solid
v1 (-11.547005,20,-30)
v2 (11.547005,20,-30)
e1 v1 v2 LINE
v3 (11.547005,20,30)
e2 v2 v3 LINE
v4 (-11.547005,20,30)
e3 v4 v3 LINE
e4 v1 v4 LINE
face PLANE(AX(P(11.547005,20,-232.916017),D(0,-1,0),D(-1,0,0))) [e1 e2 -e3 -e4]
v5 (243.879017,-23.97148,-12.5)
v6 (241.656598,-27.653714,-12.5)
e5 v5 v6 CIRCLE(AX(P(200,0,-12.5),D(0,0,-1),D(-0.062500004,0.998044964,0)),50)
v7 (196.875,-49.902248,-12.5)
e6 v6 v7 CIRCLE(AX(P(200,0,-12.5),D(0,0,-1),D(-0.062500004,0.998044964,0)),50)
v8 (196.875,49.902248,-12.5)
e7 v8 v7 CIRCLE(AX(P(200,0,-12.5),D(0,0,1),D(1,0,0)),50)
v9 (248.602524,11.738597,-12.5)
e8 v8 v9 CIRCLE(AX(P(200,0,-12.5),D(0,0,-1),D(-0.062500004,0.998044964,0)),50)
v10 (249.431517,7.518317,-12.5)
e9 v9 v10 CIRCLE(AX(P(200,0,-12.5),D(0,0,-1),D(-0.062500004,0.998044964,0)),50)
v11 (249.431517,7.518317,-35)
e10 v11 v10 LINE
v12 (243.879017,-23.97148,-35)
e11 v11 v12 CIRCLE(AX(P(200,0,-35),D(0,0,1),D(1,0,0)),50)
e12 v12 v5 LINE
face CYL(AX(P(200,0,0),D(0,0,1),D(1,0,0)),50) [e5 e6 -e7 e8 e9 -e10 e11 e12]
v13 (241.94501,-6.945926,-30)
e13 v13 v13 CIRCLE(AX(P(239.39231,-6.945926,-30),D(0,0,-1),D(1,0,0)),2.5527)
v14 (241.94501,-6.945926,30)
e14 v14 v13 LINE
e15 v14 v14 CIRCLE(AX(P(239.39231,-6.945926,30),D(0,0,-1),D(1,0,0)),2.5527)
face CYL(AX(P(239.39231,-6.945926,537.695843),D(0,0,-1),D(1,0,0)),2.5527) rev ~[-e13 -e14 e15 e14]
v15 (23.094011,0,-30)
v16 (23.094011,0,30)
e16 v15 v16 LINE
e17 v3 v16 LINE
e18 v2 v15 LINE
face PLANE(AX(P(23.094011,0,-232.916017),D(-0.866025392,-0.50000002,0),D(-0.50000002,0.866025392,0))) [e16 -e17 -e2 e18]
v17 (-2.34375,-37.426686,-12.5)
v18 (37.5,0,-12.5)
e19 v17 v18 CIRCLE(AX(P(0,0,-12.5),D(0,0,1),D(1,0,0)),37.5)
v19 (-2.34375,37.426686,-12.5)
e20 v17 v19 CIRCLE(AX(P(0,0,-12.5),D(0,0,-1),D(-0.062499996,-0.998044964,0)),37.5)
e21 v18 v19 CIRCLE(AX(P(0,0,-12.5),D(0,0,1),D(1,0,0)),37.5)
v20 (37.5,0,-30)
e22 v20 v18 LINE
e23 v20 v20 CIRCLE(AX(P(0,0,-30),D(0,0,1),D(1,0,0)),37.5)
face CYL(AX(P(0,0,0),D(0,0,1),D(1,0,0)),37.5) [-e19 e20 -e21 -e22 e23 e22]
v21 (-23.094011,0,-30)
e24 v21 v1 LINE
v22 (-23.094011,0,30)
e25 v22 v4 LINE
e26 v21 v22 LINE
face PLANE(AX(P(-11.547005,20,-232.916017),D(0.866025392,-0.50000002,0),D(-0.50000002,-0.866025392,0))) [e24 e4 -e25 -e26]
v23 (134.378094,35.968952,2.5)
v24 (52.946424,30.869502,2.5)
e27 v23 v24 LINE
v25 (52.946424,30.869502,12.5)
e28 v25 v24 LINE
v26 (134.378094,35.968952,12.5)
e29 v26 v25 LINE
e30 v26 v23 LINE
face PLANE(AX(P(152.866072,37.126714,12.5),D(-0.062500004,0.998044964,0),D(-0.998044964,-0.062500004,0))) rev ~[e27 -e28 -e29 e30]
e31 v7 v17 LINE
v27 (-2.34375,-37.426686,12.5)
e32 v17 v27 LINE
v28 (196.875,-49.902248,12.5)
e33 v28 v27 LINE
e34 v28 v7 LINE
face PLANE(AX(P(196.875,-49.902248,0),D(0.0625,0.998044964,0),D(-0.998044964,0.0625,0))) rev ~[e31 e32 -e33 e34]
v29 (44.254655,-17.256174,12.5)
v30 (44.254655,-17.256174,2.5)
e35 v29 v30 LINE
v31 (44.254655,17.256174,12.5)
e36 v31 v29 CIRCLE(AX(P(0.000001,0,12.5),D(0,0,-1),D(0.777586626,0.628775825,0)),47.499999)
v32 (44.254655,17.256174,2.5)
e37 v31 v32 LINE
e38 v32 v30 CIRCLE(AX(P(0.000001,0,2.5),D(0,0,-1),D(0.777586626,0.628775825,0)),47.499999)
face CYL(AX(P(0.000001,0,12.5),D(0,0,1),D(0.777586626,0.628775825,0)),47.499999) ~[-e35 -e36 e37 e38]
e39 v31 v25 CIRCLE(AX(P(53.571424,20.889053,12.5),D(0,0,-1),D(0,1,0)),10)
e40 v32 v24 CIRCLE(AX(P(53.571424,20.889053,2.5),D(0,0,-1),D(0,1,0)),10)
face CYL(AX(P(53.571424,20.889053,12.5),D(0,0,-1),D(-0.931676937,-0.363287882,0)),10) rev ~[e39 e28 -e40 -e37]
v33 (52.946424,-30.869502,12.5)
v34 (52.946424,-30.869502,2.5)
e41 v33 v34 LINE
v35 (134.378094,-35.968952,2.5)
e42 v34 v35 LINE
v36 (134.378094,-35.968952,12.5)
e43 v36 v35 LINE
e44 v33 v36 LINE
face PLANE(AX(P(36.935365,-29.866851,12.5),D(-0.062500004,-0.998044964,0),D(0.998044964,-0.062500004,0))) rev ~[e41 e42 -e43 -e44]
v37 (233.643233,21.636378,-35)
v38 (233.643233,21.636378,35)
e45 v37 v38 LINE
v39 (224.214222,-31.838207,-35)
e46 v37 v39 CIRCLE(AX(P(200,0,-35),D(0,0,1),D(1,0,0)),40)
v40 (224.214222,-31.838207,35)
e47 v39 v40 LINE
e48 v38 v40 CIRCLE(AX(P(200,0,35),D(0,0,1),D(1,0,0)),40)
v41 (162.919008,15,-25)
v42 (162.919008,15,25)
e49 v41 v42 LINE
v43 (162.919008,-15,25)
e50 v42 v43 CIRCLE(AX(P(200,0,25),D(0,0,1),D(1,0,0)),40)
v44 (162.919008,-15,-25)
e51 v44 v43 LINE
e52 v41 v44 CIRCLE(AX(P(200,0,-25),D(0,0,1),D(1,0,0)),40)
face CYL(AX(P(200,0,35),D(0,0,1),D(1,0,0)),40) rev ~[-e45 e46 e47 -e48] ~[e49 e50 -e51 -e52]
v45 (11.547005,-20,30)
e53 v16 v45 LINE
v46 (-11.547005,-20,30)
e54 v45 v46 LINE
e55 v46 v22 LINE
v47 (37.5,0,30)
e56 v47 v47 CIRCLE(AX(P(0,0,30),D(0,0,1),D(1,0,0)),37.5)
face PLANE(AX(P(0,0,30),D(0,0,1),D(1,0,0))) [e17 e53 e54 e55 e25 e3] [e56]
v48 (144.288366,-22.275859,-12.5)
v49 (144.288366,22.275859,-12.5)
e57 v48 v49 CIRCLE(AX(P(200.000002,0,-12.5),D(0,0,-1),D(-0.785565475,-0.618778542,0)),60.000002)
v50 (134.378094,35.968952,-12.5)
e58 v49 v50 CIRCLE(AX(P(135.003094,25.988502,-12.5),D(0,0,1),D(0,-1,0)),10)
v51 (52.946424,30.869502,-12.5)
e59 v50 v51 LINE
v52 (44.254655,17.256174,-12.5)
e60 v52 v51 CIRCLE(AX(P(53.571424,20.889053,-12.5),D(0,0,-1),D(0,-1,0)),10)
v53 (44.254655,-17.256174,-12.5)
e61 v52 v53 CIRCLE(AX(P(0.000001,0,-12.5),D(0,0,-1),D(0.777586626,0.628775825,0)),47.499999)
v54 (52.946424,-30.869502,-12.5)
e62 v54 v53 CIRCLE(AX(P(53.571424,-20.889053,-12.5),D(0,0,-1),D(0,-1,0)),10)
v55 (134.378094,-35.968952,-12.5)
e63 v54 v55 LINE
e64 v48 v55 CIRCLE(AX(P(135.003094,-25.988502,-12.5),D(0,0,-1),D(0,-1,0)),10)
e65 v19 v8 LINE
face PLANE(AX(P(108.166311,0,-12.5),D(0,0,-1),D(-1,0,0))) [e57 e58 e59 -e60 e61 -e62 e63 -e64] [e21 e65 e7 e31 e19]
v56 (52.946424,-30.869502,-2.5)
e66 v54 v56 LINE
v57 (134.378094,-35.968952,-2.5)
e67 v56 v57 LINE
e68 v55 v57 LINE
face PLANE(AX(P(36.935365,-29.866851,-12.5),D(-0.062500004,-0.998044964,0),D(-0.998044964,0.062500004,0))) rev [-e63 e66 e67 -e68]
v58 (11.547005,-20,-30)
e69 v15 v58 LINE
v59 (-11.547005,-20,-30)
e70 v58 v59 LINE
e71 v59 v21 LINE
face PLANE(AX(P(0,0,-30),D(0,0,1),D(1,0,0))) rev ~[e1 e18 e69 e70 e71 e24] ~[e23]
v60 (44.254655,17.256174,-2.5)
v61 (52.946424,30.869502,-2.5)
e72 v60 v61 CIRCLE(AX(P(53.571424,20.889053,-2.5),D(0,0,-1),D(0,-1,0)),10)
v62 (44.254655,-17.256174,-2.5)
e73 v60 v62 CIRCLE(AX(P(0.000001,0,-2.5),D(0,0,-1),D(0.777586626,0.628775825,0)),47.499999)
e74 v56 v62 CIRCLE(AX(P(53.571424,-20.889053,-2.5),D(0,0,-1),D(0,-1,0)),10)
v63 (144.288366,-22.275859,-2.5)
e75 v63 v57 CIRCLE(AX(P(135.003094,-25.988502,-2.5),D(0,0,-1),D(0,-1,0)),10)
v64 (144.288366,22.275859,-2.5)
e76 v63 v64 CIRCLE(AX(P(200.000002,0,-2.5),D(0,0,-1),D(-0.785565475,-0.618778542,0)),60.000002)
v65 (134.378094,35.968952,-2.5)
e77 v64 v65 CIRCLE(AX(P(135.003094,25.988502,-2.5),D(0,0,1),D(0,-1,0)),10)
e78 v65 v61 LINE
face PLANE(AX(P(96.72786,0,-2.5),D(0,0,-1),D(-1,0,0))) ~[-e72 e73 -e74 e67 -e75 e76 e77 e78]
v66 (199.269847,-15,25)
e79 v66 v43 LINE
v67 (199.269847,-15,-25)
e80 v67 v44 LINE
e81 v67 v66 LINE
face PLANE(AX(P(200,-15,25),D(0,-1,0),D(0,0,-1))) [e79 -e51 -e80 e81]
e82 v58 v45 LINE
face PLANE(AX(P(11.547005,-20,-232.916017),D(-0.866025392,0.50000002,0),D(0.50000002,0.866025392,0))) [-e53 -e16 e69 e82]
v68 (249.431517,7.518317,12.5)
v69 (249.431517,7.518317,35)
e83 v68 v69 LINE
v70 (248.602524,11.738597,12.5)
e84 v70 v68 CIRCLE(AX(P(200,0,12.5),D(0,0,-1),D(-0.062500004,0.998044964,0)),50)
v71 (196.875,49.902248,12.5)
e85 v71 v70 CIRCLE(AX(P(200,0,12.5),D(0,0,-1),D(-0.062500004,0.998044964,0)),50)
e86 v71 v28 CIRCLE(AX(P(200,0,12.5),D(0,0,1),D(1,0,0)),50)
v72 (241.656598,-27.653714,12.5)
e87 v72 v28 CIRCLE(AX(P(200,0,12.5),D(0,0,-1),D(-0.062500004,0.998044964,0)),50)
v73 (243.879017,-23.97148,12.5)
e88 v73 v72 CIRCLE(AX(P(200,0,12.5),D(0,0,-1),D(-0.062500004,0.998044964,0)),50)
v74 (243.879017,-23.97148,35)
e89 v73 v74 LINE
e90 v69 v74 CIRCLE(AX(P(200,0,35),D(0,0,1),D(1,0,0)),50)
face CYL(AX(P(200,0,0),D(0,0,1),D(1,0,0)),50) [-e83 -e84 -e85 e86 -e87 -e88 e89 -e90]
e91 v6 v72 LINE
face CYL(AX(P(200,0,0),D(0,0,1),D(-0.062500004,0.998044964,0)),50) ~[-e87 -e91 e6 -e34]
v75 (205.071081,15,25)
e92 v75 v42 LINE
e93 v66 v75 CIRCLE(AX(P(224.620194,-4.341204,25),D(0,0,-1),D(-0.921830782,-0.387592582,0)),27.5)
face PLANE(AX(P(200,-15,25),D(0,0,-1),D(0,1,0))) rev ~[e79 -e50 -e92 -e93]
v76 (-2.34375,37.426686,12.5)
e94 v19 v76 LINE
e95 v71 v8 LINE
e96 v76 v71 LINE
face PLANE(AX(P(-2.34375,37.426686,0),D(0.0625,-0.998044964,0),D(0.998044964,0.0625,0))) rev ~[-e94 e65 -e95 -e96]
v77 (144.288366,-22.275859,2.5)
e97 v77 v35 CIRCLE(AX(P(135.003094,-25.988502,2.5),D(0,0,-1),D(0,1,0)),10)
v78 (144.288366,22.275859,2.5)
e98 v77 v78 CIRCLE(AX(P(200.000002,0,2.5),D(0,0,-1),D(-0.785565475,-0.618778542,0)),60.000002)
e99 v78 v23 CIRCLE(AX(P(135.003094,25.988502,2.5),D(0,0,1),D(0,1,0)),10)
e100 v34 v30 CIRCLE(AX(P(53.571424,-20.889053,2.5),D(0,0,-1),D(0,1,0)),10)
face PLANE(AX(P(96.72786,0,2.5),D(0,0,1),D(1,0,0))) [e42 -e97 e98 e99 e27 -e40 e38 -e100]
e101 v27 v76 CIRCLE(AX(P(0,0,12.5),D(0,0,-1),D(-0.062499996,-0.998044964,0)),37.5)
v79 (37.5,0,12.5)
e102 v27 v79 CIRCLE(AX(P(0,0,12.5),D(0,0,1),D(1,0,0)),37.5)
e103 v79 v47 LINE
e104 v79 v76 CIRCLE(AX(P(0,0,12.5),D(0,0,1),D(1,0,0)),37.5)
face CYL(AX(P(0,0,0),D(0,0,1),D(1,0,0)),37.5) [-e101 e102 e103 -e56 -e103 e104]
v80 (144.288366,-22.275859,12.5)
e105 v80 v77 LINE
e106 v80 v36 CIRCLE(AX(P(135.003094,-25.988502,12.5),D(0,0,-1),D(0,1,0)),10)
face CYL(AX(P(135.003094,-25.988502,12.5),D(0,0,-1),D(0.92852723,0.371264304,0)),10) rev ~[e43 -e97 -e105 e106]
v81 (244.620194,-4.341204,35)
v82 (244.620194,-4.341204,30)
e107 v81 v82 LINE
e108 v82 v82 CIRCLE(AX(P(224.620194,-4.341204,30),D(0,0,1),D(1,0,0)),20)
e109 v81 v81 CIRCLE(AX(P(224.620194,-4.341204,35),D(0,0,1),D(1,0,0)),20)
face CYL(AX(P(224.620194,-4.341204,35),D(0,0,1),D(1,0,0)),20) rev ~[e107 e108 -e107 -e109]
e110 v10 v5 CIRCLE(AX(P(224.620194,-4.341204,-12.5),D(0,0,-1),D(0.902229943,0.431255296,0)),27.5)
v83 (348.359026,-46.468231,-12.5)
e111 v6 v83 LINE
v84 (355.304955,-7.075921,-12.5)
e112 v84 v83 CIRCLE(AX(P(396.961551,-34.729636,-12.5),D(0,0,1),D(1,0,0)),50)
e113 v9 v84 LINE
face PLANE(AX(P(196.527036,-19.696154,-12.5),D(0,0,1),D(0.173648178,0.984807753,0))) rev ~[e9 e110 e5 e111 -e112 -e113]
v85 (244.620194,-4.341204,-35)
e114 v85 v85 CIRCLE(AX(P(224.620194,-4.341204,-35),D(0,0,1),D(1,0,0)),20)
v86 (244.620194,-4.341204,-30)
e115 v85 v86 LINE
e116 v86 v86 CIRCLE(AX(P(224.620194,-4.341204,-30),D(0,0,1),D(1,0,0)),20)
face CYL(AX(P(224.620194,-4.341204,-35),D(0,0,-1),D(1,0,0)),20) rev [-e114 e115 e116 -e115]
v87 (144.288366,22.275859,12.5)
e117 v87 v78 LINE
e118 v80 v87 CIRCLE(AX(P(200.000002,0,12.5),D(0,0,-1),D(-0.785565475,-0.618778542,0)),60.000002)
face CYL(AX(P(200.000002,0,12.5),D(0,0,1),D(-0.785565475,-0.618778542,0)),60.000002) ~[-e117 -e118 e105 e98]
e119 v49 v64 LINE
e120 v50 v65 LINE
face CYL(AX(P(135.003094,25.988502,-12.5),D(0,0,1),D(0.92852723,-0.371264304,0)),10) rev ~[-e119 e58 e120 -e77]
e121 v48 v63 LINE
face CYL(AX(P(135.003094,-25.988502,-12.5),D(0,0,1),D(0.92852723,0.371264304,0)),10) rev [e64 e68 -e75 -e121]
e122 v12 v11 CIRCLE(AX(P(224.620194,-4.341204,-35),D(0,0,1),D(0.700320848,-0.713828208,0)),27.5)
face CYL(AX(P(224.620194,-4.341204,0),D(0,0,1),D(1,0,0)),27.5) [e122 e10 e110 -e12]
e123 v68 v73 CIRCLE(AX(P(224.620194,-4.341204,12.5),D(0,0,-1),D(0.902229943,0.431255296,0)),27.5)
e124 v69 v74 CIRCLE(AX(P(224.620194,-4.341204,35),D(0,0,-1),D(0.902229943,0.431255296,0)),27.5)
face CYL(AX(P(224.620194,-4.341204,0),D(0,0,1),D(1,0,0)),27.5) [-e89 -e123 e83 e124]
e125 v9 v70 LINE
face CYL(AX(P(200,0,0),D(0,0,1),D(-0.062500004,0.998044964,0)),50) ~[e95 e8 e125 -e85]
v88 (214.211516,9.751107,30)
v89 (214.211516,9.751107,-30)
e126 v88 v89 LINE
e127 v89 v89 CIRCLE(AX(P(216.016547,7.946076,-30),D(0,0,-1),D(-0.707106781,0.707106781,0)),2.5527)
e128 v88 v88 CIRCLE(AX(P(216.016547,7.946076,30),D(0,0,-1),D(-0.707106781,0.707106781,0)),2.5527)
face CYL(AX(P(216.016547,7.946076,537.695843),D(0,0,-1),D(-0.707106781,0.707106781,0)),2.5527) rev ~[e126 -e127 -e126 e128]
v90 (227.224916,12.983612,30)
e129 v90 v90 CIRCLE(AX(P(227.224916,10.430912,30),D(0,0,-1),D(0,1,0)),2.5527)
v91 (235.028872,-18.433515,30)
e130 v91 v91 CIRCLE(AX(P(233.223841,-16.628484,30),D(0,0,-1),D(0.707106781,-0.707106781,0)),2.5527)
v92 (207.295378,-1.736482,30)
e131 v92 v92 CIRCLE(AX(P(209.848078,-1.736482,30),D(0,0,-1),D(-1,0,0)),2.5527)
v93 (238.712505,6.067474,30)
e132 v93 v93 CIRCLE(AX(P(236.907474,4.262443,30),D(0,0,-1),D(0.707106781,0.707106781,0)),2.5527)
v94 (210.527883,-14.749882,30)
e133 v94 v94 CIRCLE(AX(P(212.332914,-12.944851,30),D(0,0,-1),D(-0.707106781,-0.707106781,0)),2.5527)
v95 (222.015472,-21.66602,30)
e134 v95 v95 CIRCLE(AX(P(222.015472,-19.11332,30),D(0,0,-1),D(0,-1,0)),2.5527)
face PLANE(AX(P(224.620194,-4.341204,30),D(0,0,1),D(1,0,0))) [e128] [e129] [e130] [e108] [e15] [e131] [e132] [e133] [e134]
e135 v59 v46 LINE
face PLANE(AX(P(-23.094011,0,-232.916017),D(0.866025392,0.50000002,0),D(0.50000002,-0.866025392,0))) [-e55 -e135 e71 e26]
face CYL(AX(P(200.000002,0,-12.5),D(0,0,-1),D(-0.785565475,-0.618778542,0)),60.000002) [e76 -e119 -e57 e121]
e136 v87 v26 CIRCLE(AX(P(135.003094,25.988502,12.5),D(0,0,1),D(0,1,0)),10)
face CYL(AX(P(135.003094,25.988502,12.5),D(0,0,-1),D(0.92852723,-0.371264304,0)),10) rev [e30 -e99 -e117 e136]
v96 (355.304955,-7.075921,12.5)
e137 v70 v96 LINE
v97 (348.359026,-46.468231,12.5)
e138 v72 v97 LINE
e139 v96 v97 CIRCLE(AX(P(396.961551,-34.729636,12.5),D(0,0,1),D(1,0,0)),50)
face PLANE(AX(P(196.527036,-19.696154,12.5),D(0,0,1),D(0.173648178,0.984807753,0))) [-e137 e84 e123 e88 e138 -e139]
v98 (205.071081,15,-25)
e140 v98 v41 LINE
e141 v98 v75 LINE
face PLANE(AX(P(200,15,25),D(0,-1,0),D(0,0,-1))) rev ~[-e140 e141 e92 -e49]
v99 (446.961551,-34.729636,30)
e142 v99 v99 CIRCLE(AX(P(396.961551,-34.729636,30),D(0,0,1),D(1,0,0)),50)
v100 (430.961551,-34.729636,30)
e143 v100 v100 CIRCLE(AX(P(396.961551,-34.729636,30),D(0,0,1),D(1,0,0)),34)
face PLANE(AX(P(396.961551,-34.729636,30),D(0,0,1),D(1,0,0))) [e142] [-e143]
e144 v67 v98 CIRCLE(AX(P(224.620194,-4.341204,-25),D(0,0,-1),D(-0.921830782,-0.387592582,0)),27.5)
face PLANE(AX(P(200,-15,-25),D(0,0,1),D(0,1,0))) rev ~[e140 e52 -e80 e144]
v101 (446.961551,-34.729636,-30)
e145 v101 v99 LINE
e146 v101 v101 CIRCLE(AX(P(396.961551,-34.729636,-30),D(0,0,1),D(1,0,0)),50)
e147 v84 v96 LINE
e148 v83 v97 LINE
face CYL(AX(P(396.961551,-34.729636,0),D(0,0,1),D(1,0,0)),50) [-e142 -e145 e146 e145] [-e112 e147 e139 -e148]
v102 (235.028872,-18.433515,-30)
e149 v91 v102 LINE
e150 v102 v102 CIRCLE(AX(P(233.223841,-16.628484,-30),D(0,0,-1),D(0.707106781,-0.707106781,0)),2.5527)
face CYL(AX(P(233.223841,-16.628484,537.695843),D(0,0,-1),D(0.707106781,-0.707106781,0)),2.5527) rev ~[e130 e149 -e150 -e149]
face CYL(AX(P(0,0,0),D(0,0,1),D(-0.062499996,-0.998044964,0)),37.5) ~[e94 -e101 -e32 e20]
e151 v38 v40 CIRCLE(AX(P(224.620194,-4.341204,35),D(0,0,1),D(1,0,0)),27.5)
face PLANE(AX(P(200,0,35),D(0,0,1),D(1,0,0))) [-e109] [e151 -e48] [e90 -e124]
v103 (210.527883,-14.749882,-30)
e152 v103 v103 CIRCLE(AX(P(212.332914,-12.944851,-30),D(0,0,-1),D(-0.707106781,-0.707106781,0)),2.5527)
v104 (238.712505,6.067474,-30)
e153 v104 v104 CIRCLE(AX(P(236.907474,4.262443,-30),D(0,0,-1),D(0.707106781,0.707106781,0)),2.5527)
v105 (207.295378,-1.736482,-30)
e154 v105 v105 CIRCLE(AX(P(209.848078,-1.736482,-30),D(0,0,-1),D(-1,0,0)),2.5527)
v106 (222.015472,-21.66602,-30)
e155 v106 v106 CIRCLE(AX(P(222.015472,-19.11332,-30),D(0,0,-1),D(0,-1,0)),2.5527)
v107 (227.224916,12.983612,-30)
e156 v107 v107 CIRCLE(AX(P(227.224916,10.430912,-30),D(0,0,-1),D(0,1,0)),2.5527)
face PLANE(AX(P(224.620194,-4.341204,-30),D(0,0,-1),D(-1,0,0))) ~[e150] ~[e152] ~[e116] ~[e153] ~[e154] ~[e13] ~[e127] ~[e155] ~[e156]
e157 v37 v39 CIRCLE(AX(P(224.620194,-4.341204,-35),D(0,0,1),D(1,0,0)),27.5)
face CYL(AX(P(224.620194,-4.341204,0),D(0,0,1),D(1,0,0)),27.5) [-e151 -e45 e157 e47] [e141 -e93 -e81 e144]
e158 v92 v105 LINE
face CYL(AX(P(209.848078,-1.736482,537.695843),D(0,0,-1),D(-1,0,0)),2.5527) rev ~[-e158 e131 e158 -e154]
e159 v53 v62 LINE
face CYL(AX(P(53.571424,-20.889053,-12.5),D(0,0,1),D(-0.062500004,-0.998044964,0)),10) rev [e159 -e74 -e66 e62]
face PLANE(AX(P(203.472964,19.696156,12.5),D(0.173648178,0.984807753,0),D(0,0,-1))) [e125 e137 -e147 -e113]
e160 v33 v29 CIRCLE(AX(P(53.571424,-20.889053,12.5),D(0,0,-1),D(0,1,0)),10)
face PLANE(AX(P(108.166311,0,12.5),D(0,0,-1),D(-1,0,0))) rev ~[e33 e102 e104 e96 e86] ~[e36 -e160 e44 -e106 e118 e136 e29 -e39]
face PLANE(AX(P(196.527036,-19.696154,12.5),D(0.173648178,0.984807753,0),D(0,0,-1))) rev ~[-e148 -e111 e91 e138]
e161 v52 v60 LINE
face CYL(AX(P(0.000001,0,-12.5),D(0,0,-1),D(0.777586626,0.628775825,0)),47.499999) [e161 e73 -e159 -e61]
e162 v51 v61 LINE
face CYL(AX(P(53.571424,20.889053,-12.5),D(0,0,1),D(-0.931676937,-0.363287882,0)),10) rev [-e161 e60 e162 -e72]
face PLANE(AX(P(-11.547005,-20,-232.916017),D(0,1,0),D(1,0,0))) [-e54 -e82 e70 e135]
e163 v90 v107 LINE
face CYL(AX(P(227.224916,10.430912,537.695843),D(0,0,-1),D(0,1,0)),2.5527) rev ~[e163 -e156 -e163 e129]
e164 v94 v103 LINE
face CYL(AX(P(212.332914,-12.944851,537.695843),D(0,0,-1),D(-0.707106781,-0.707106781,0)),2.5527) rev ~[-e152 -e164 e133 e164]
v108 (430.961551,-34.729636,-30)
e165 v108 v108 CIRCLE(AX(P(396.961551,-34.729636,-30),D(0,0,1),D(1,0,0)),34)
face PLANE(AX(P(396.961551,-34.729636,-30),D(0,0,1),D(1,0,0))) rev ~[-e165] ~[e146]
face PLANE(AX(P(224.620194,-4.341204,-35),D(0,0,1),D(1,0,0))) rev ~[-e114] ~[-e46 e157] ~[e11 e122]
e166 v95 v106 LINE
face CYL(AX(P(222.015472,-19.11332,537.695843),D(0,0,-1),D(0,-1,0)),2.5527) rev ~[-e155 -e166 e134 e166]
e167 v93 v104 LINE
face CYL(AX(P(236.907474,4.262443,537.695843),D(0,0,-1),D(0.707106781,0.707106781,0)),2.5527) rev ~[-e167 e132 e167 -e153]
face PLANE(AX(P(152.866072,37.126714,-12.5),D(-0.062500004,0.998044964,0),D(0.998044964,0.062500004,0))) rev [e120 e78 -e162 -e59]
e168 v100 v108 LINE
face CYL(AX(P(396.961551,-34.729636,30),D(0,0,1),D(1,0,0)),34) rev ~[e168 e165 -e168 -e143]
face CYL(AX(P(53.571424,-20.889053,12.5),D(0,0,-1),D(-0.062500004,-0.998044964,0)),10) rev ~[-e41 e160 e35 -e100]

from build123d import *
from build123d.topology import SkipClean

# Parameters (mm, degrees)
LEFT_ARM_DEPTH                = 12.5
SKETCH2_R                     = 37.5
LEFT_BOSS_DEPTH               = 30
LEFT_HEX_DEPTH                = 262.916017
LEFT_HEX_DEPTH_BACK           = 262.916017
SKETCH3_R                     = 50
CENTRE_BOSS_DEPTH             = 35
SKETCH5_W                     = 25
SKETCH5_H                     = 40
RIGHT_ARM_DEPTH               = 200
SKETCH7_R                     = 50
RIGHT_BOSS_DEPTH              = 30
SKETCH8_R                     = 34
RIGHT_BOSS_HOLE_DEPTH         = 460.541879
SKETCH9_R                     = 40
CENTRE_HOLE_DEPTH             = 461.27572
SKETCH10_R                    = 27.5
CENTRE_BLOB_DEPTH             = 35
CENTRE_BEAM_REACH             = 265.428
SKETCH11_W                    = 50
SKETCH11_H                    = 30
CENTRE_BEAM_DIRECTION_2_REACH = 265.428
SKETCH12_R                    = 20
CUT_EXTRUDE4_DEPTH            = 5
F_1_4_20_TAPPED_HOLE1_D       = 5.1054
CIRPATTERN1_COUNT             = 8
CUT_OUT_DEPTH                 = 10
FILLET1_R                     = 10
FILLET1_OF_MIRROR2_R          = 10


with BuildPart() as part:
    # Sketch1 → LEFT_ARM (new, symmetric)
    with BuildSketch(Plane.XY):
        with BuildLine():
            Line((-2.34375, 37.426686), (196.875, 49.902248))
            ThreePointArc((196.875, 49.902248), (250, 0), (196.875, -49.902248))
            Line((196.875, -49.902248), (-2.34375, -37.426686))
            ThreePointArc((-2.34375, -37.426686), (-37.5, 0), (-2.34375, 37.426686))
        make_face()
    extrude(amount=LEFT_ARM_DEPTH, both=True)

    # Sketch2 → LEFT_Boss (add, symmetric)
    with SkipClean():  # the faces are left unmerged after this step: merging them gives an invalid solid
        with BuildSketch(Plane.XY):
            Circle(SKETCH2_R)
        extrude(amount=LEFT_BOSS_DEPTH, both=True)

    # Sketch4 → LEFT_Hex (cut, two sides: drawn at the far end of the back side and taken through both)
    with SkipClean():  # the faces are left unmerged after this step: merging them gives an invalid solid
        with BuildSketch(Plane.XY.offset(30).offset(-LEFT_HEX_DEPTH_BACK)):
            Polygon((23.094011, 0), (11.547005, 20), (-11.547005, 20), (-23.094011, 0), (-11.547005, -20), (11.547005, -20), align=None)
        extrude(amount=LEFT_HEX_DEPTH + LEFT_HEX_DEPTH_BACK, mode=Mode.SUBTRACT)

    # Sketch3 → CENTRE_Boss (add, symmetric)
    with SkipClean():  # the faces are left unmerged after this step: merging them gives an invalid solid
        with BuildSketch(Plane.XY):
            with Locations((200, 0)):
                Circle(SKETCH3_R)
        extrude(amount=CENTRE_BOSS_DEPTH, both=True)

    # Sketch5 → RIGHT_ARM (add)
    with SkipClean():  # the faces are left unmerged after this step: merging them gives an invalid solid
        with BuildSketch(Plane(origin=(193.969262, -34.202014, 0), x_dir=(0, 0, -1), z_dir=(0.984807753012208, -0.17364817766693072, 0))):
            with Locations((0, 34.729636)):
                Rectangle(SKETCH5_W, SKETCH5_H)
        extrude(amount=RIGHT_ARM_DEPTH)

    # Sketch7 → RIGHT_Boss (add, symmetric)
    with SkipClean():  # the faces are left unmerged after this step: merging them gives an invalid solid
        with BuildSketch(Plane.XY):
            with Locations((396.961551, -34.729636)):
                Circle(SKETCH7_R)
        extrude(amount=RIGHT_BOSS_DEPTH, both=True)

    # Sketch8 → RIGHT_Boss_Hole (cut, through all)
    with SkipClean():  # the faces are left unmerged after this step: merging them gives an invalid solid
        with BuildSketch(Plane.XY.offset(30)):
            with Locations((396.961551, -34.729636)):
                Circle(SKETCH8_R)
        extrude(amount=-RIGHT_BOSS_HOLE_DEPTH, mode=Mode.SUBTRACT)

    # Sketch9 → CENTRE_Hole (cut, through all)
    with SkipClean():  # the faces are left unmerged after this step: merging them gives an invalid solid
        with BuildSketch(Plane.XY.offset(35)):
            with Locations((200, 0)):
                Circle(SKETCH9_R)
        extrude(amount=-CENTRE_HOLE_DEPTH, mode=Mode.SUBTRACT)

    # Sketch10 → CENTRE_Blob (add, symmetric)
    with SkipClean():  # the faces are left unmerged after this step: merging them gives an invalid solid
        with BuildSketch(Plane.XY):
            with Locations((224.620194, -4.341204)):
                Circle(SKETCH10_R)
        extrude(amount=CENTRE_BLOB_DEPTH, both=True)

    # Sketch11 → CENTRE_Beam (add, up to next)
    with BuildSketch(Plane(origin=(200, 0, 0), x_dir=(0, 0, -1), z_dir=(1, 0, 0)), mode=Mode.PRIVATE) as centre_beam_sk1:
        Rectangle(SKETCH11_W, SKETCH11_H)
    centre_beam_tool1 = extrude(centre_beam_sk1.sketch, amount=CENTRE_BEAM_REACH, mode=Mode.PRIVATE) - part.part
    add(centre_beam_tool1.solids().sort_by_distance((200, 0, 0))[0])

    # Sketch11 → CENTRE_Beam direction 2 (add, up to next)
    with BuildSketch(Plane(origin=(200, 0, 0), x_dir=(0, 0, -1), z_dir=(1, 0, 0)), mode=Mode.PRIVATE) as centre_beam_direction_2_sk1:
        Rectangle(SKETCH11_W, SKETCH11_H)
    centre_beam_direction_2_tool1 = extrude(centre_beam_direction_2_sk1.sketch, amount=-CENTRE_BEAM_DIRECTION_2_REACH, mode=Mode.PRIVATE) - part.part
    add(centre_beam_direction_2_tool1.solids().sort_by_distance((200, 0, 0))[0])

    # Sketch12 → Cut-Extrude4 (cut)
    with SkipClean():  # the faces are left unmerged after this step: merging them gives an invalid solid
        with BuildSketch(Plane.XY.offset(35)):
            with Locations((224.620194, -4.341204)):
                Circle(SKETCH12_R)
        cut_extrude4 = extrude(amount=-CUT_EXTRUDE4_DEPTH, mode=Mode.SUBTRACT)

    # 1/4-20 Tapped Hole1 (through all)
    with Locations(Plane.XY.offset(30)):
        with Locations((209.848078, -1.736482)):
            f_1_4_20_tapped_hole1 = Hole(F_1_4_20_TAPPED_HOLE1_D / 2)

    # CirPattern1: 1/4-20 Tapped Hole1 ×8 about axis
    with SkipClean():  # the faces are left unmerged after this step: merging them gives an invalid solid
        cirpattern1_axis = Axis((224.620194, -4.341204, 0), (0, 0, 1))
        for i in range(1, CIRPATTERN1_COUNT):
            add(f_1_4_20_tapped_hole1.rotate(cirpattern1_axis, i * 360 / CIRPATTERN1_COUNT), mode=Mode.SUBTRACT)

    # Mirror1: Cut-Extrude4 across plane
    with SkipClean():  # the faces are left unmerged after this step: merging them gives an invalid solid
        add(cut_extrude4.mirror(Plane.XY), mode=Mode.SUBTRACT)

    # Sketch15 → Cut_OUT (cut)
    with SkipClean():  # the faces are left unmerged after this step: merging them gives an invalid solid
        with BuildSketch(Plane.XY.offset(12.5)):
            with BuildLine():
                Line((152.866072, 37.126714), (36.935365, 29.866851))
                ThreePointArc((36.935365, 29.866851), (47.5, 0), (36.935365, -29.866851))
                Line((36.935365, -29.866851), (152.866072, -37.126714))
                ThreePointArc((152.866072, -37.126714), (140, 0), (152.866072, 37.126714))
            make_face()
        cut_out = extrude(amount=-CUT_OUT_DEPTH, mode=Mode.SUBTRACT)

    # Fillet1
    fillet1_edges = [part.edges().sort_by_distance(p)[0] for p in [
        (36.935365, -29.866851, 7.5),
        (36.935365, 29.866851, 7.5),
        (152.866072, 37.126714, 7.5),
        (152.866072, -37.126714, 7.5),
    ]]
    fillet(fillet1_edges, radius=FILLET1_R)

    # Mirror2: Cut_OUT across plane
    with SkipClean():  # the faces are left unmerged after this step: merging them gives an invalid solid
        add(cut_out.mirror(Plane.XY), mode=Mode.SUBTRACT)

    # Fillet1 of Mirror2
    fillet1_of_mirror2_edges = [part.edges().sort_by_distance(p)[0] for p in [
        (36.935365, -29.866851, -7.5),
        (36.935365, 29.866851, -7.5),
        (152.866072, 37.126714, -7.5),
        (152.866072, -37.126714, -7.5),
    ]]
    fillet(fillet1_of_mirror2_edges, radius=FILLET1_OF_MIRROR2_R)


solid = part.part
